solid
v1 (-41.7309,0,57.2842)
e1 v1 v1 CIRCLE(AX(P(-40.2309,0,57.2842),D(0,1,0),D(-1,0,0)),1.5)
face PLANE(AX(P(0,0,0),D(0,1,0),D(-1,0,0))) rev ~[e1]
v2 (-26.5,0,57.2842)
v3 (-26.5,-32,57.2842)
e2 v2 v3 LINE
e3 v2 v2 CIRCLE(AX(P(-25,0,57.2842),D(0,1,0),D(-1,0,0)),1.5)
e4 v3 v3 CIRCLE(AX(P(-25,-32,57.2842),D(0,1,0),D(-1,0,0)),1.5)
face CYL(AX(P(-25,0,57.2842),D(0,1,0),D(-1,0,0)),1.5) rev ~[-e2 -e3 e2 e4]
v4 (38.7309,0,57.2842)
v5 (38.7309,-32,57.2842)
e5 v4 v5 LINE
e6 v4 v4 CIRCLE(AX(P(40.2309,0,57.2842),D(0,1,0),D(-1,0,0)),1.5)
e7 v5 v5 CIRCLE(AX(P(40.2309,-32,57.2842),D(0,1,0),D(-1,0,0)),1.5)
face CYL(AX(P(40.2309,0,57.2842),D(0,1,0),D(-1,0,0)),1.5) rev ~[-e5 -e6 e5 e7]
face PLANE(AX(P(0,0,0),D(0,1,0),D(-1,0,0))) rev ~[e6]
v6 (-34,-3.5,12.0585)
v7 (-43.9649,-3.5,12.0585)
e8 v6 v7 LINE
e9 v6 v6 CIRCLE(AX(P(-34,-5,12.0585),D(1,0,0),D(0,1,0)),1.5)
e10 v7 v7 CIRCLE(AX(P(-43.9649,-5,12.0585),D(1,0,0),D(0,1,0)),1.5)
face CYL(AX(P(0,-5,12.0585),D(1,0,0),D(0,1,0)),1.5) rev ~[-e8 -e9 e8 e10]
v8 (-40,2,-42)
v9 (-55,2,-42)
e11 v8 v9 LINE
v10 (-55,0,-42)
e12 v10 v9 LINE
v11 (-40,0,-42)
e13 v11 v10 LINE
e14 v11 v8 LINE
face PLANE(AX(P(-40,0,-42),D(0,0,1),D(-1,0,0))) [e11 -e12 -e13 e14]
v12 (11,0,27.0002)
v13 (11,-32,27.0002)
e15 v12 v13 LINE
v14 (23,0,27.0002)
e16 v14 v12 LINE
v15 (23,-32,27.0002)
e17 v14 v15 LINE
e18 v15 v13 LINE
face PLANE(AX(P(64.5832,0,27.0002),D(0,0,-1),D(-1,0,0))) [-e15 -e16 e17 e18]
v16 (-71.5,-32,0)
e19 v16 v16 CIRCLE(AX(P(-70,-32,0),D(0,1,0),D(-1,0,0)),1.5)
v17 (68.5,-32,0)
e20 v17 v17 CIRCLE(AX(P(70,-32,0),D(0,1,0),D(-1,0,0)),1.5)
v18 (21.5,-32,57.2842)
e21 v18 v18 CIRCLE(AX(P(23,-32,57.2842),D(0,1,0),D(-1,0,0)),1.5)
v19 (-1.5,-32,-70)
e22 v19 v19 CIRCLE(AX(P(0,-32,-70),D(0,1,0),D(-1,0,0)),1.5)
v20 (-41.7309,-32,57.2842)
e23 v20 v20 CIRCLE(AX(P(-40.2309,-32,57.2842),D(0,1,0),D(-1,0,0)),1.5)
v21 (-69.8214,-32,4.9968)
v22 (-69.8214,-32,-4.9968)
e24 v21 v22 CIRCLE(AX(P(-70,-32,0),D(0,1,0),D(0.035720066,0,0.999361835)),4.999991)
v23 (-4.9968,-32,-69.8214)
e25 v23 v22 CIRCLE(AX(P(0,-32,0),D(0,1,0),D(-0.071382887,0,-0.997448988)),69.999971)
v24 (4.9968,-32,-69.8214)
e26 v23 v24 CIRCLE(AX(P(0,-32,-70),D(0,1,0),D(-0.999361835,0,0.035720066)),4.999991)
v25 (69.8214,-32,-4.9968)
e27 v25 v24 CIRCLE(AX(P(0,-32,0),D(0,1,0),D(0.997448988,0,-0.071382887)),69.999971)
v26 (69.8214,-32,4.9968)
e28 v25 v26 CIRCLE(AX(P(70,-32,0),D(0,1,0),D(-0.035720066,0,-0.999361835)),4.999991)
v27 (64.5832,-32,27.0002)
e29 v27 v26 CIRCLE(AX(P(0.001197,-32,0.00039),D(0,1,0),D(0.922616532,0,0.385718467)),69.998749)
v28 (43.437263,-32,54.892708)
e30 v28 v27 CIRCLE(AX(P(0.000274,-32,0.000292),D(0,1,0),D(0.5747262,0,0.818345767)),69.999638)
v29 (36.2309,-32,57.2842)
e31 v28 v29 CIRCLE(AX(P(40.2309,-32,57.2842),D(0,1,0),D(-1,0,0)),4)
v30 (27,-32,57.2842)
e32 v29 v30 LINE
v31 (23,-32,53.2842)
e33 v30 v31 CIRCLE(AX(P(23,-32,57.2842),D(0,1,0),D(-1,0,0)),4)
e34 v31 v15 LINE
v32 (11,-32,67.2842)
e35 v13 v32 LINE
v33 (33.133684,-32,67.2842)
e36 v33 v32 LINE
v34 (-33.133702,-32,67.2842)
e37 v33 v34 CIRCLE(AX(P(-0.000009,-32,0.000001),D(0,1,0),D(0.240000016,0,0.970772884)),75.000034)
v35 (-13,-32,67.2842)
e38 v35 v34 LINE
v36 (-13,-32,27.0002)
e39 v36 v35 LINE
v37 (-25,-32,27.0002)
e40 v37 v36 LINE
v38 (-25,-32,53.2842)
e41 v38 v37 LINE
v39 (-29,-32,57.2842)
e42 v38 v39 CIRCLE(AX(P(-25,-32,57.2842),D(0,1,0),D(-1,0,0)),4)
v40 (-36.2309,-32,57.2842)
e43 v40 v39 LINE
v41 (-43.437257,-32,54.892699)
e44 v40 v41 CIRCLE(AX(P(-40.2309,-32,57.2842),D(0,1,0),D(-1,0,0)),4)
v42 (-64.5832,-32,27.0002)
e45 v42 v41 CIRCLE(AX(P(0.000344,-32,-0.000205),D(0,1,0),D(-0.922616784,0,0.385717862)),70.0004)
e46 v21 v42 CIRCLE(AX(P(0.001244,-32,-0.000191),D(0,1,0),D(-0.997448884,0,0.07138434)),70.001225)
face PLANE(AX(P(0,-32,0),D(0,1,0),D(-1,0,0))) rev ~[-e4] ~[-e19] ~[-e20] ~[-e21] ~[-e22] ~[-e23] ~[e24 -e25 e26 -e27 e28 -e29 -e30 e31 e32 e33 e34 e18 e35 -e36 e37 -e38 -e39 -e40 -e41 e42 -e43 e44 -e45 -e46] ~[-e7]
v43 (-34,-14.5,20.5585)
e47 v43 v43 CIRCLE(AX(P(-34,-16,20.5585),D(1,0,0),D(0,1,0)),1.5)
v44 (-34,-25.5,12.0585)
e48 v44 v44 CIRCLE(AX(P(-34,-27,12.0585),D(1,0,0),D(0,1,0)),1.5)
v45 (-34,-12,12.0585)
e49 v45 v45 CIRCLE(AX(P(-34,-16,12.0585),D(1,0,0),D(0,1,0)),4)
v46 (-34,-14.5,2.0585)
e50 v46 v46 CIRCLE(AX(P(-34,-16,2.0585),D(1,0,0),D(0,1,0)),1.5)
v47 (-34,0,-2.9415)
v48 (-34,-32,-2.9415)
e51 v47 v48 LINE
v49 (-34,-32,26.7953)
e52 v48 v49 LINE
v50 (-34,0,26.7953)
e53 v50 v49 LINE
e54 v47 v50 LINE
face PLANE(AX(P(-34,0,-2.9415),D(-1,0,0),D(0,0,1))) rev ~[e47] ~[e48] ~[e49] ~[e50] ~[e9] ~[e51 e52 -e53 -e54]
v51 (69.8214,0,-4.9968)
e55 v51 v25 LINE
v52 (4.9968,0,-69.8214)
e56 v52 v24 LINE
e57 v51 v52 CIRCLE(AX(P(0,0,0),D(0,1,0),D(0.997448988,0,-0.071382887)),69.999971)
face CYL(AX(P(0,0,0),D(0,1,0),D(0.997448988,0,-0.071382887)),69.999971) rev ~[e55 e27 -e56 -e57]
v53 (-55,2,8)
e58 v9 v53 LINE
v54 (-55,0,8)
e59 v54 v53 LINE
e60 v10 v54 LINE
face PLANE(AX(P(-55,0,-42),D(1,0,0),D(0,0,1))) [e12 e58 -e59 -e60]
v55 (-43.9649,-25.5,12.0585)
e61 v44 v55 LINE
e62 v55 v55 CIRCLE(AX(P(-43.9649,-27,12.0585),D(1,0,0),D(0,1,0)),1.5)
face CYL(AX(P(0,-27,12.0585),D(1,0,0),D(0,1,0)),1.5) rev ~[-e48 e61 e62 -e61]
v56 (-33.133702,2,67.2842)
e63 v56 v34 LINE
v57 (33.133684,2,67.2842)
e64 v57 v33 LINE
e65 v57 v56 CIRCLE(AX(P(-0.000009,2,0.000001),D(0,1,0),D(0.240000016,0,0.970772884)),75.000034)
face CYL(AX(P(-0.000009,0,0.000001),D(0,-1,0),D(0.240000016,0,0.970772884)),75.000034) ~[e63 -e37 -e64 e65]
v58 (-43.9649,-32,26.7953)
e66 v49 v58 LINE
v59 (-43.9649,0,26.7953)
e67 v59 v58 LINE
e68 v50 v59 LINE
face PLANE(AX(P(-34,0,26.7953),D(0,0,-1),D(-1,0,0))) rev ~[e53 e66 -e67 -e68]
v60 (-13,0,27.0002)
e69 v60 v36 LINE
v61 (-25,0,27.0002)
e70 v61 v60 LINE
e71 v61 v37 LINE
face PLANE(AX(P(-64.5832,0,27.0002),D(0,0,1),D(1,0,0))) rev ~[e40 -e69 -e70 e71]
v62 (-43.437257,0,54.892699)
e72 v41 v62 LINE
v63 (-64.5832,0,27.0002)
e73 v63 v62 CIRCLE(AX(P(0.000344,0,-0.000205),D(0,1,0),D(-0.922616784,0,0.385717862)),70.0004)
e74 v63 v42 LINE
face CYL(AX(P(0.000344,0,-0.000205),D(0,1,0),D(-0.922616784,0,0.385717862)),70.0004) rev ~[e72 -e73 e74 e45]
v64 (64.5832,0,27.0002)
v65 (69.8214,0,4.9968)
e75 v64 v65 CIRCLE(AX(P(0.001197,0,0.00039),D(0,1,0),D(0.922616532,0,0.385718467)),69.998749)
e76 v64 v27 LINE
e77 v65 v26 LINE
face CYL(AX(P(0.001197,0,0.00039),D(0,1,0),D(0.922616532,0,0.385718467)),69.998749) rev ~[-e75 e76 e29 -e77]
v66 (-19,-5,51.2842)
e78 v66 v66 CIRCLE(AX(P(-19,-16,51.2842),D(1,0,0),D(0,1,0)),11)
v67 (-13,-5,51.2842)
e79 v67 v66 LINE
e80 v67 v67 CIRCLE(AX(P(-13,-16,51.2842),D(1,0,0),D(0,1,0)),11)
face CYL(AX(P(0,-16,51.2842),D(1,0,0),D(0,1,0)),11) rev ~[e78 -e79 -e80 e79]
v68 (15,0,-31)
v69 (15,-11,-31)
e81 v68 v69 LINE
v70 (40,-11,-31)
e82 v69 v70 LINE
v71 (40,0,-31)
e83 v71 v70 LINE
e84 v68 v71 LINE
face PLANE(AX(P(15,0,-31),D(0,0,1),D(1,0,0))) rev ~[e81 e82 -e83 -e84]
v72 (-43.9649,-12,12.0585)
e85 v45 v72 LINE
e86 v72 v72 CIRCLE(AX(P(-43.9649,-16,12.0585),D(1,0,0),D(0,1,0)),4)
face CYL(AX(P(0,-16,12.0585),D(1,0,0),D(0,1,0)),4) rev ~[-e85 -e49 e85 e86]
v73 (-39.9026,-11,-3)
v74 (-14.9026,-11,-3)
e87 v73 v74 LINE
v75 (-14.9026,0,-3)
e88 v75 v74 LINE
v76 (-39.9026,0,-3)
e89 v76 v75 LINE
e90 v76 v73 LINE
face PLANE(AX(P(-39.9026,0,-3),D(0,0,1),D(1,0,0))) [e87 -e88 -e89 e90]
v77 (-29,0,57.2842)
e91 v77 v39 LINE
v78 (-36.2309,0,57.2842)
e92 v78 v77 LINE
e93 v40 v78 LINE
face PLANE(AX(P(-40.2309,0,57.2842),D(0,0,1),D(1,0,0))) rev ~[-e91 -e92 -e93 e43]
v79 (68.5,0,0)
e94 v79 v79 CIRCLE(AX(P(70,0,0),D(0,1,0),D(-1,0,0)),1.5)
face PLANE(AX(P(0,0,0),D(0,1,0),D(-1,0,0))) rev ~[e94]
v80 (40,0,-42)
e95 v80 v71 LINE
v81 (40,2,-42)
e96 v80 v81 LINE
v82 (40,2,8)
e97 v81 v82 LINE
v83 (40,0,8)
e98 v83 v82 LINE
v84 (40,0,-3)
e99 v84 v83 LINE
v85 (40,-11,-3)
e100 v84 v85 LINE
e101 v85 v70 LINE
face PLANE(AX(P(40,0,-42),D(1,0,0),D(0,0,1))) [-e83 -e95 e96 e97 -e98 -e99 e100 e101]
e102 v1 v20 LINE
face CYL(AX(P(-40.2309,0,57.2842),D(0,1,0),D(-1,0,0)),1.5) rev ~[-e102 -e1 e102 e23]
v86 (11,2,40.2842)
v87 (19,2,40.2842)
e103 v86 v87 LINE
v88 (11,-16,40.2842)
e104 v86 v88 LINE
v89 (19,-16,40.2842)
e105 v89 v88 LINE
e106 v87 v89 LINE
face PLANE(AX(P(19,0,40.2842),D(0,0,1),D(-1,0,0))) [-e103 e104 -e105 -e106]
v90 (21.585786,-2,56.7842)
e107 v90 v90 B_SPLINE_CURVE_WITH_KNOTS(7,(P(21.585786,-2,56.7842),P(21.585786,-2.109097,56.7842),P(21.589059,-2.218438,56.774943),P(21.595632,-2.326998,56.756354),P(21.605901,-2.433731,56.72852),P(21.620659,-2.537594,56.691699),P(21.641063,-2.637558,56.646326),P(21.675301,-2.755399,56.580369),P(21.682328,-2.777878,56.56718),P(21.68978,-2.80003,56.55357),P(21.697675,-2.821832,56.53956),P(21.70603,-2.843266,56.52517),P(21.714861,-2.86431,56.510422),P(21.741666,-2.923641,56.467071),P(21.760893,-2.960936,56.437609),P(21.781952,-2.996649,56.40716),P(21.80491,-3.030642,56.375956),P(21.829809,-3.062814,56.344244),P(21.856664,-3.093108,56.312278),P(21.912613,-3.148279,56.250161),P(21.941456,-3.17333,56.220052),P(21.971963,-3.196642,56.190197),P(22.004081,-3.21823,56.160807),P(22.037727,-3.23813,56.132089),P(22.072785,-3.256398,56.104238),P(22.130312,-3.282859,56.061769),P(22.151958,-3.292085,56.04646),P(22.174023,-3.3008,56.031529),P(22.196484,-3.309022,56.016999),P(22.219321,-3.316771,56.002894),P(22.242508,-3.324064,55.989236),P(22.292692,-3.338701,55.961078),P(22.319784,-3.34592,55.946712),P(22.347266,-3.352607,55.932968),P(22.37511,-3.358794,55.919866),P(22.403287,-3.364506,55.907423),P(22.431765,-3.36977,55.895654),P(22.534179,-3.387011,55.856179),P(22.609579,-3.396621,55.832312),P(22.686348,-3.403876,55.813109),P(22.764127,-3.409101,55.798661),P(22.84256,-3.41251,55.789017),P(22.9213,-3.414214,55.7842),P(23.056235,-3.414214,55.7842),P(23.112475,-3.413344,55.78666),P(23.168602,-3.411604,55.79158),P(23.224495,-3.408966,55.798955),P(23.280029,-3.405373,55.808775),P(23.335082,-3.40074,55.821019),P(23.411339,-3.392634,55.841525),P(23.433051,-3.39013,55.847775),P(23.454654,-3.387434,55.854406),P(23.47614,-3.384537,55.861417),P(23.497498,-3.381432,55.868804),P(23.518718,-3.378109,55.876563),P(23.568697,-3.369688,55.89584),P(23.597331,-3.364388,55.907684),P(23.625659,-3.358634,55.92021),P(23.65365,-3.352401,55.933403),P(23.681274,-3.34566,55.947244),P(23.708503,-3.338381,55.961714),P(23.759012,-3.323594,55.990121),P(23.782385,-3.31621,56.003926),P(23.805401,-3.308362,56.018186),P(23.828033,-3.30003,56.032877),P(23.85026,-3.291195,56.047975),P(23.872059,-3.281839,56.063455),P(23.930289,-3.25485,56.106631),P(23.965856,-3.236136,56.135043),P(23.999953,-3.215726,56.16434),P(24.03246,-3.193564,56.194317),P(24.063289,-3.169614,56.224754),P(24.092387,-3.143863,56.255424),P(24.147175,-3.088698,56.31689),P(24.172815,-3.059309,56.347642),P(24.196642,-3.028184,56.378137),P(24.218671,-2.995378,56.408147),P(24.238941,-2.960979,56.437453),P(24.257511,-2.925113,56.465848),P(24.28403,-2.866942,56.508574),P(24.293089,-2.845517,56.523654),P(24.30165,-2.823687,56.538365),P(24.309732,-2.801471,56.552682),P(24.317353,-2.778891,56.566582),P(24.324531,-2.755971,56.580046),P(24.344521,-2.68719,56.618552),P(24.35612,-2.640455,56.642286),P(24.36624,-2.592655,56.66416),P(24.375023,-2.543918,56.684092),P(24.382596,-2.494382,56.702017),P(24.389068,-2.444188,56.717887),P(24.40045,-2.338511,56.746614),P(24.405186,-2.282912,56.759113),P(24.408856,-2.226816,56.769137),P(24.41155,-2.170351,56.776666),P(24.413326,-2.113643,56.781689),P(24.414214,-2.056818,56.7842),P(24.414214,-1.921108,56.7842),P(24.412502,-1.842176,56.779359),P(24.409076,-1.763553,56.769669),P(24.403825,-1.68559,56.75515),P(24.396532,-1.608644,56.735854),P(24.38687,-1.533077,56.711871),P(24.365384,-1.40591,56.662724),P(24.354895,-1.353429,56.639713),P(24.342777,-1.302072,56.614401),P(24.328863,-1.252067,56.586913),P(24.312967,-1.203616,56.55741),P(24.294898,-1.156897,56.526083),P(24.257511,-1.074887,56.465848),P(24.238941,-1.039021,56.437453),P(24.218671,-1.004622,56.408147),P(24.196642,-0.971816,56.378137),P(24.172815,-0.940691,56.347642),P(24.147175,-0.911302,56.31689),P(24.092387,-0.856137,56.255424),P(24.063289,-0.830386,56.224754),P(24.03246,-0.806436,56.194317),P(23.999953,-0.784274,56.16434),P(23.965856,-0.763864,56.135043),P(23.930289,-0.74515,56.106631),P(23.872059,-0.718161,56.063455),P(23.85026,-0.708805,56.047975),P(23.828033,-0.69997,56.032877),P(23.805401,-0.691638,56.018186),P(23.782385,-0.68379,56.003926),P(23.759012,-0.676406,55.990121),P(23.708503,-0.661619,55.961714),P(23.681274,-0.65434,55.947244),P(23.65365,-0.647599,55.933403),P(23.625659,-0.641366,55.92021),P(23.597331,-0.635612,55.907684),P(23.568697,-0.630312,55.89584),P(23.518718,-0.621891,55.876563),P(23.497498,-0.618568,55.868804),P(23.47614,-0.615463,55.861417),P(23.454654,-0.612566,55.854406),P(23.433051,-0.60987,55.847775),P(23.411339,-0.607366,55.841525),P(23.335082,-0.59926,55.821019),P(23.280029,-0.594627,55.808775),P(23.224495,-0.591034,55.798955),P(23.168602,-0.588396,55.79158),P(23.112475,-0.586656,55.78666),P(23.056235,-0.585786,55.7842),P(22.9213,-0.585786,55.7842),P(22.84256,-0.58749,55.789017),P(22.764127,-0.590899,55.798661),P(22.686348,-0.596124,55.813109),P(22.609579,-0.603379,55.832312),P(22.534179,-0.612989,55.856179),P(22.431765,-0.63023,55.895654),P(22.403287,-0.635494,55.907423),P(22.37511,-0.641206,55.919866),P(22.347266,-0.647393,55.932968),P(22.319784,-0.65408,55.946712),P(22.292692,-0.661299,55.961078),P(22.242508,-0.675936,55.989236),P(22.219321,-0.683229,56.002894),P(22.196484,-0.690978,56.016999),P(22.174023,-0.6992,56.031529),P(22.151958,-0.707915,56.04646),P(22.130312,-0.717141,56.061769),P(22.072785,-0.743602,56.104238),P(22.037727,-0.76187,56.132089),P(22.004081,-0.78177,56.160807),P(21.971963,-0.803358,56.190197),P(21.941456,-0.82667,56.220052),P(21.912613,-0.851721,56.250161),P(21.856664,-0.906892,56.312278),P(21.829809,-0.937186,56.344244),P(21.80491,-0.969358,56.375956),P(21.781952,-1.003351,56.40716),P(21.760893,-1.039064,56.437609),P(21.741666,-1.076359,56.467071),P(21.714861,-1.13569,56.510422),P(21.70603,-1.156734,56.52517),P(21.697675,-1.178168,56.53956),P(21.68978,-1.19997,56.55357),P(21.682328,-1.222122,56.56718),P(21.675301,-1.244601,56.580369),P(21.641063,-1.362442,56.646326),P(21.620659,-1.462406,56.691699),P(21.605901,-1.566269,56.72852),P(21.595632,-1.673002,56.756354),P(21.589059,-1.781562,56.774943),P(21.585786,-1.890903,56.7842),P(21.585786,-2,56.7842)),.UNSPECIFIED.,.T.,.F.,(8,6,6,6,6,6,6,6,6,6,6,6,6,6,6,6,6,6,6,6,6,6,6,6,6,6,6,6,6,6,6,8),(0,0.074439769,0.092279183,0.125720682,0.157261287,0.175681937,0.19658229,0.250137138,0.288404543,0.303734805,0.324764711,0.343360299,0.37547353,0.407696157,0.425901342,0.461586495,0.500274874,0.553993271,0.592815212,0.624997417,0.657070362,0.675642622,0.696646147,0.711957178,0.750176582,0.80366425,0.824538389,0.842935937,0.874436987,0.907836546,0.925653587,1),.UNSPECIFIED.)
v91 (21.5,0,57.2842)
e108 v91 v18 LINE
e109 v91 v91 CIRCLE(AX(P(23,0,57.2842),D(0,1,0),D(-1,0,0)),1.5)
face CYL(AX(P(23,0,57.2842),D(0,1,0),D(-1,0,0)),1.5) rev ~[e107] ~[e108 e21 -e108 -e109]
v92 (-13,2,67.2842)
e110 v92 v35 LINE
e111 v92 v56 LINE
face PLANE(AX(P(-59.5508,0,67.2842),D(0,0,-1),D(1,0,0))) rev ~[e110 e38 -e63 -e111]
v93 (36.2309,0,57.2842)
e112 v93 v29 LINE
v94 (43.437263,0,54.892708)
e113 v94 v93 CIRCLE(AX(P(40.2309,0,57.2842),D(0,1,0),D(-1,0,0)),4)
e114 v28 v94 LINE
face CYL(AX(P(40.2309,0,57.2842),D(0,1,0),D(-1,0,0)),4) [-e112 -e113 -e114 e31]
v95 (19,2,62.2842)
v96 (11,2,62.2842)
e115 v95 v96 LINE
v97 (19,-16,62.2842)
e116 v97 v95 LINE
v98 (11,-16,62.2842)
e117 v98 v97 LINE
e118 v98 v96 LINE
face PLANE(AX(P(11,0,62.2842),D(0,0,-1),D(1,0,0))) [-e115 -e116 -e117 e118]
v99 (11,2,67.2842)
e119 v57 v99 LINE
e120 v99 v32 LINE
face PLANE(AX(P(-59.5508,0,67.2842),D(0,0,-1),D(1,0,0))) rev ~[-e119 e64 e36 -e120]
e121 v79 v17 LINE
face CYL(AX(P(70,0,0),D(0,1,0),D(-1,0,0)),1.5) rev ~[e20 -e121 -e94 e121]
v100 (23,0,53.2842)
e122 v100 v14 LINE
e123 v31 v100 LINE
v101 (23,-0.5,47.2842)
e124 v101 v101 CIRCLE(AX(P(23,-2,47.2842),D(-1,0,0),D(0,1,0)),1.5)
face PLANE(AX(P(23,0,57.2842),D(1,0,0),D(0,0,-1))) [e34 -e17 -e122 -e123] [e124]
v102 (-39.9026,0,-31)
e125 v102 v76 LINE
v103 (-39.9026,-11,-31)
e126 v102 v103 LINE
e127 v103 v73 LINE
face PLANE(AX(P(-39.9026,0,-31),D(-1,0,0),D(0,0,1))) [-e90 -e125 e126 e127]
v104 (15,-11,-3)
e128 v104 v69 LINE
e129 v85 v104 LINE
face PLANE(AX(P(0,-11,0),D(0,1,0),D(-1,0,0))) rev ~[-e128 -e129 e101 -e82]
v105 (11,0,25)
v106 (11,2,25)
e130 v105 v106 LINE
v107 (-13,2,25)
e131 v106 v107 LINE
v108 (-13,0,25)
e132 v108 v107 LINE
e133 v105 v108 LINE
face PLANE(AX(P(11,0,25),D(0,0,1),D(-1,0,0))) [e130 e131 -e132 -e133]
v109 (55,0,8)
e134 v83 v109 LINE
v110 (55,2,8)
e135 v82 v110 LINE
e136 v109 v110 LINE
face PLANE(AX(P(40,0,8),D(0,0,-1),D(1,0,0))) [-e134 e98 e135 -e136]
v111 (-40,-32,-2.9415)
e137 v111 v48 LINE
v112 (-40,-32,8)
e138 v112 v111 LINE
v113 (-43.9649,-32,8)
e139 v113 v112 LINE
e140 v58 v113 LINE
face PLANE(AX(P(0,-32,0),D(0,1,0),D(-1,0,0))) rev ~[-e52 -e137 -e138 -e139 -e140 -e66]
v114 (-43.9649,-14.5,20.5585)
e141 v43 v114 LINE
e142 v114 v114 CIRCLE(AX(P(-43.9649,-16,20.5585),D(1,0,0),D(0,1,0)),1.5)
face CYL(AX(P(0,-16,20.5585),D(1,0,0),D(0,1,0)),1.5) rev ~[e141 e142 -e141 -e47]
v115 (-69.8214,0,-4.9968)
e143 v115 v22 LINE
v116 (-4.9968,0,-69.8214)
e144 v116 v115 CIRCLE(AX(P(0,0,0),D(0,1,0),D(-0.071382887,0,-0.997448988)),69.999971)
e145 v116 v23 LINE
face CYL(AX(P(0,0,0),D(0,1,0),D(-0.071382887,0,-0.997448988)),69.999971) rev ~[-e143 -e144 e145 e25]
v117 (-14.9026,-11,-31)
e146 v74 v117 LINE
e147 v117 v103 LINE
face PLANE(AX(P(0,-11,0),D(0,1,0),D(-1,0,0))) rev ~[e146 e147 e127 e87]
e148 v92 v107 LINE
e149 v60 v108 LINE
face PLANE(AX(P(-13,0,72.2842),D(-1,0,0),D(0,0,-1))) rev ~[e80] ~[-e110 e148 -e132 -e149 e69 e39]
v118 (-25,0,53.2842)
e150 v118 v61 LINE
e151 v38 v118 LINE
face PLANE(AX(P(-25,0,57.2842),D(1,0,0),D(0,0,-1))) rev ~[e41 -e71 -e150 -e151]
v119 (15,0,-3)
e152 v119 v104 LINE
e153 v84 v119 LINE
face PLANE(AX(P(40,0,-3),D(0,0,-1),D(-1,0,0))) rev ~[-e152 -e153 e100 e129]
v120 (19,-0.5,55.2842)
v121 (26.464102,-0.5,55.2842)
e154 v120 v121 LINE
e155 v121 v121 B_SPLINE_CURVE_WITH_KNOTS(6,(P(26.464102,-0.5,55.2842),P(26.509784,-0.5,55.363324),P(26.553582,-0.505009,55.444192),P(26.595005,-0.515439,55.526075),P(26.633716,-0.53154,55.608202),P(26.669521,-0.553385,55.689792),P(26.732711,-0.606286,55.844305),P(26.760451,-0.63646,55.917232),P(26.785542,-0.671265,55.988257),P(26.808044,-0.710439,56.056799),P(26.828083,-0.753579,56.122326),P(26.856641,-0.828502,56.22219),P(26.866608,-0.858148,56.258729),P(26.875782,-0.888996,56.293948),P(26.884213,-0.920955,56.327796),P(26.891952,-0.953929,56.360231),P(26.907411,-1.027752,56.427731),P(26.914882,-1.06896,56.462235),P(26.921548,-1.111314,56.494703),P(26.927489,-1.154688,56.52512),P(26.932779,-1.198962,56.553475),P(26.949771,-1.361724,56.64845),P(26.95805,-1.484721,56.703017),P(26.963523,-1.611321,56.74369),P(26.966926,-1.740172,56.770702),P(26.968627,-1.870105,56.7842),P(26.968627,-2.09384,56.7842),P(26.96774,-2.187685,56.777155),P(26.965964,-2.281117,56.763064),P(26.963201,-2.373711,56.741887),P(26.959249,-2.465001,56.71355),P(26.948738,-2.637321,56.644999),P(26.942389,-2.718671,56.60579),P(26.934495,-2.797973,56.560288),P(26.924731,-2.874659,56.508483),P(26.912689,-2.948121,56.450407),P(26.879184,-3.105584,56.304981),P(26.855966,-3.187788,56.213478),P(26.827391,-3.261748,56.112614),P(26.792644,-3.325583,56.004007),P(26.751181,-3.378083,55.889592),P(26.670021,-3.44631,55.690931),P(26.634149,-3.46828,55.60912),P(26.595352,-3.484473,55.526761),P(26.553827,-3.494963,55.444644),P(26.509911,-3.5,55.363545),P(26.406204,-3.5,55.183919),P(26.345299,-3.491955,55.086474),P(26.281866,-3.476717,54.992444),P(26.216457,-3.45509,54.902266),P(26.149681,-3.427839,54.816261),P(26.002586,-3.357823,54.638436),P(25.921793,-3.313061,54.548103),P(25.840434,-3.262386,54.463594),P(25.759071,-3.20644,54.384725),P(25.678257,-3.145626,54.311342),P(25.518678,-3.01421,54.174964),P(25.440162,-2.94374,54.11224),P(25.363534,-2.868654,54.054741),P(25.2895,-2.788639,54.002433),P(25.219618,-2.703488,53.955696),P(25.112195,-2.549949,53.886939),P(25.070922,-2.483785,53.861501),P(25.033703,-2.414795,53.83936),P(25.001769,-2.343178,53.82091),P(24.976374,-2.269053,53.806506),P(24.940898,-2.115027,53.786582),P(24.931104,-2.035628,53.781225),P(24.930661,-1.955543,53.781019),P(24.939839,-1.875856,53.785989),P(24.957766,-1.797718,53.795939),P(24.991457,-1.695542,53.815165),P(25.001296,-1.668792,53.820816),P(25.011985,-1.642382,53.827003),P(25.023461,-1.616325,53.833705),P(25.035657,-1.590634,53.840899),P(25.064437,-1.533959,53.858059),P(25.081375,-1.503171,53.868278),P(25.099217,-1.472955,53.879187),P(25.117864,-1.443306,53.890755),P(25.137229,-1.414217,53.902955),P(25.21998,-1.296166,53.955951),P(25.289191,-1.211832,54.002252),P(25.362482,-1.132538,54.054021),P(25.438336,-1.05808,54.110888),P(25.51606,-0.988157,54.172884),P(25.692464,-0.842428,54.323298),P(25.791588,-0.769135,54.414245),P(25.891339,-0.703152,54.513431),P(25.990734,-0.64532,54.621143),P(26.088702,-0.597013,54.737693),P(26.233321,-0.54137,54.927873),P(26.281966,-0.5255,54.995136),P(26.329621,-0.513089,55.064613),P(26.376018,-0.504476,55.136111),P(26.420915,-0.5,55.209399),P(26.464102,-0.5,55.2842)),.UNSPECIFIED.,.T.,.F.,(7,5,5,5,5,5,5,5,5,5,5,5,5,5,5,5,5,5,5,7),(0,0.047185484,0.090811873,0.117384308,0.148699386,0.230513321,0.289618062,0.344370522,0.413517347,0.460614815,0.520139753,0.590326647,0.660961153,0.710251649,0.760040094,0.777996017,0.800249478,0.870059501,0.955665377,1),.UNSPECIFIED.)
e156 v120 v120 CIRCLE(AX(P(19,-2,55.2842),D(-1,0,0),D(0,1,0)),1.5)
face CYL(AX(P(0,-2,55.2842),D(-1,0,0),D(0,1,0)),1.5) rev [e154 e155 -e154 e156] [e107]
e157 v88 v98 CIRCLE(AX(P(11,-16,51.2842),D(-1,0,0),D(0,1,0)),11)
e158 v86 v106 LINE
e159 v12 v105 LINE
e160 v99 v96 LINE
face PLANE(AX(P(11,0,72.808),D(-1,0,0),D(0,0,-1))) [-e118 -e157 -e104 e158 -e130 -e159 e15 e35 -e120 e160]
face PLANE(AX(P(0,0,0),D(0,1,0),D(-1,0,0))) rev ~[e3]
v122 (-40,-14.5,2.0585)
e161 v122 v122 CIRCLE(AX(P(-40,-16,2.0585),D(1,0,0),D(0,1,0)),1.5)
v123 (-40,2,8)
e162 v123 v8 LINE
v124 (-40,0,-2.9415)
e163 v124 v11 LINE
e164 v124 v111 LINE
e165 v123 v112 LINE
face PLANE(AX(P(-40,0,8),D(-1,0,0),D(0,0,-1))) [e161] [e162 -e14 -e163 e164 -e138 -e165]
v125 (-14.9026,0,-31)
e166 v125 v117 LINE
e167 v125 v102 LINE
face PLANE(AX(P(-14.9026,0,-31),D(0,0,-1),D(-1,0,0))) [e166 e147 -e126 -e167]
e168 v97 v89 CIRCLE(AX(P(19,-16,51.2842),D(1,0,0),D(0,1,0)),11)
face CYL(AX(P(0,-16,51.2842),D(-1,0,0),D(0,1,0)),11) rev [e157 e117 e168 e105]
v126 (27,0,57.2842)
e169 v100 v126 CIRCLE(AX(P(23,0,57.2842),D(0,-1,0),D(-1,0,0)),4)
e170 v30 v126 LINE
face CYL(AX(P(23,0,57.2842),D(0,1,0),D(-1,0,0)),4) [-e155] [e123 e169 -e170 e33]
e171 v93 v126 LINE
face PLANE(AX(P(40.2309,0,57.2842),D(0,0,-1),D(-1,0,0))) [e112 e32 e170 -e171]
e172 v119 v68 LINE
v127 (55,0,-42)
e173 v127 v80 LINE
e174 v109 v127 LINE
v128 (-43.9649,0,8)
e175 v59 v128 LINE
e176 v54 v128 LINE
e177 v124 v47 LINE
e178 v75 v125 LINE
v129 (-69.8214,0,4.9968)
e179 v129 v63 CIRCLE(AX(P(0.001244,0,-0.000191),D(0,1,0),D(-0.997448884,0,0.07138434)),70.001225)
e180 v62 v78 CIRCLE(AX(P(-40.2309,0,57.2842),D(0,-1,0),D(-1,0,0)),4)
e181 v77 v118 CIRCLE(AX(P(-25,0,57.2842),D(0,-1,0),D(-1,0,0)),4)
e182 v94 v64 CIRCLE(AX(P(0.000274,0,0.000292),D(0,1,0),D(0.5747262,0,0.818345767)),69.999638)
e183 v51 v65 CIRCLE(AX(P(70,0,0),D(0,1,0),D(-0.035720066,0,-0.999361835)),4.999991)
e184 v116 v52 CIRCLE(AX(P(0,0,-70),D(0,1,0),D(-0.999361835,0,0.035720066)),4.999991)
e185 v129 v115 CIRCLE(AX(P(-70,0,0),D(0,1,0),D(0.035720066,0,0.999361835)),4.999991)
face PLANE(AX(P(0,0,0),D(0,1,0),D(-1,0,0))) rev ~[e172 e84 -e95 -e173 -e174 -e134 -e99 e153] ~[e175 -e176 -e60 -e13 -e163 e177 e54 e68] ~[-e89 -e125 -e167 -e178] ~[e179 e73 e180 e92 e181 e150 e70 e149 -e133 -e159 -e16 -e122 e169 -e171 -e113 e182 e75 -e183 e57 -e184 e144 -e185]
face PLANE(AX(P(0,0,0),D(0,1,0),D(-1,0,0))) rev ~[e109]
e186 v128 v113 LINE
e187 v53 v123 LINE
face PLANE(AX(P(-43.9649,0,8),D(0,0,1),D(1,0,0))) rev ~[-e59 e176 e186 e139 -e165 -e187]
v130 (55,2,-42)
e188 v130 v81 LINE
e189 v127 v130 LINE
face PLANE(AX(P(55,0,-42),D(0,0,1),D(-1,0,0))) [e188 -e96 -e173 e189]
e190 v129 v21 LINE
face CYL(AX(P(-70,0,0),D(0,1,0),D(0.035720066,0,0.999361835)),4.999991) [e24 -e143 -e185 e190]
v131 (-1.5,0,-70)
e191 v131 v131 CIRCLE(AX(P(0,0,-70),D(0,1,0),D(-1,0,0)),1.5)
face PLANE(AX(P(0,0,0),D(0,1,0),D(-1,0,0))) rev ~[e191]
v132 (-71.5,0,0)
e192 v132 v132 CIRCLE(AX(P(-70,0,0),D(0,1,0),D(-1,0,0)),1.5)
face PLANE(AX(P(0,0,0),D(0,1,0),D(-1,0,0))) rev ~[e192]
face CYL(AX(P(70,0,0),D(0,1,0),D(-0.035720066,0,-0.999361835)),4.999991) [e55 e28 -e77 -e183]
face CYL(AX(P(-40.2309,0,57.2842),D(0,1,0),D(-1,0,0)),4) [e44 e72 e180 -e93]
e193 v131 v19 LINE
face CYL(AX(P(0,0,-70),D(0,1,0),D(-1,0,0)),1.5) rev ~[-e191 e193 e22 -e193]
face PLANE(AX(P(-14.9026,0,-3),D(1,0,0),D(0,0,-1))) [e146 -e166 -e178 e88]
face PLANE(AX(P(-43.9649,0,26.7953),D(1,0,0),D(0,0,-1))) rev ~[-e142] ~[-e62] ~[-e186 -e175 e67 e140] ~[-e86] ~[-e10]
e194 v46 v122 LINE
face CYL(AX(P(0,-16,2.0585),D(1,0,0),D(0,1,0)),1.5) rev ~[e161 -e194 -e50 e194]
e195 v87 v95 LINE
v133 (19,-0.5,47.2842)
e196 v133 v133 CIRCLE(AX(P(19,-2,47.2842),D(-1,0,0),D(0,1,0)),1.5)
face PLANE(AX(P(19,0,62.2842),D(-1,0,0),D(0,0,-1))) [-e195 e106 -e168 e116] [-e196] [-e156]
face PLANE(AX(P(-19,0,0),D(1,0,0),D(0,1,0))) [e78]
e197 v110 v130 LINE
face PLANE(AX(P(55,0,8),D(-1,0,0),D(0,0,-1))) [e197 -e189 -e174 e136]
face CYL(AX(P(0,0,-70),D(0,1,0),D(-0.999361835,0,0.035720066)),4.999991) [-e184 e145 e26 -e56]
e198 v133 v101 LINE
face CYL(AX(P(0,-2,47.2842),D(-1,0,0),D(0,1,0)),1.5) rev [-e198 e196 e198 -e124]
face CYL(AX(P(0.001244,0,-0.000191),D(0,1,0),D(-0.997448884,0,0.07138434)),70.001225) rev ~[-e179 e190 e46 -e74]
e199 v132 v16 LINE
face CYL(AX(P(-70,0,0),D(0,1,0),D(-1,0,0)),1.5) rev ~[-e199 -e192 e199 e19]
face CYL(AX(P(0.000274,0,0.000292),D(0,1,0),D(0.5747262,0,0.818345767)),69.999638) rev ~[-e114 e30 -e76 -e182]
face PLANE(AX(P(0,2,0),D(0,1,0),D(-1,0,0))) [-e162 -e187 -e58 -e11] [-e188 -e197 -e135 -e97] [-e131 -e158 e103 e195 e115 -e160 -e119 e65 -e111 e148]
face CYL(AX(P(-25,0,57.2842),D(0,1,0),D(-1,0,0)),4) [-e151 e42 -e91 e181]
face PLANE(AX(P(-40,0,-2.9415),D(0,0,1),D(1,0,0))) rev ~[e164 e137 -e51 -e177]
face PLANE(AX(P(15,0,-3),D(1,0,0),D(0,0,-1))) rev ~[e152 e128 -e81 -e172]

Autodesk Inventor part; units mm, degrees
ref_plane "YZ Plane" through (0, 0, 0) normal (1, 0, 0) x (0, 1, 0)
ref_plane "XZ Plane" through (0, 0, 0) normal (0, 1, 0) x (-1, 0, 0)
ref_plane "XY Plane" through (0, 0, 0) normal (0, 0, 1) x (1, 0, 0)
sketch "Boceto1" plane through (0, 0, 0) normal (0, 1, 0) x (-1, 0, 0)
  arc A0 (-18, 72.808) -> (20, 72.2842) centre (0, 0) ccw
  line L0 (-18, 72.808) -> (-18, 72.2842)
  line L1 (-11, 25) -> (13, 25)
  line L2 (55, 8) -> (40, 8)
  line L3 (40, 8) -> (40, -42)
  line L4 (40, -42) -> (55, -42)
  line L5 (55, -42) -> (55, 8)
  line L6 (-40, 8) -> (-55, 8)
  line L7 (-55, 8) -> (-55, -42)
  line L8 (-55, -42) -> (-40, -42)
  line L9 (-40, -42) -> (-40, 8)
  line L10 (20, 72.2842) -> (13, 72.2842)
  line L11 (13, 72.2842) -> (13, 25)
  line L12 (-18, 72.808) -> (-11, 72.808)
  line L13 (-11, 72.808) -> (-11, 25)
  line L14 (-18, 72.2842) -> (-18, 72.808)
  dimension "d0" = 150
  dimension "d2" = 18
  dimension "d3" = 25
  dimension "d4" = 15
  dimension "d5" = 50
  dimension "d6" = 15
  dimension "d7" = 50
  dimension "d8" = 40
  dimension "d9" = 40
  dimension "d63" = 8
  dimension "d64" = 8
extrude "Extrusión1" add sketch "Boceto1" along normal blind 2
sketch "Boceto2" plane through (0, 0, 0) normal (0, 1, 0) x (-1, 0, 0)
  arc A0 (-18, 72.808) -> (20, 72.2842) centre (0, 0) ccw
  line L0 (-18, 72.808) -> (-18, 72.2842)
  line L1 (20, 72.2842) -> (13, 72.2842)
  line L2 (-18, 72.808) -> (-11, 72.808)
  line L3 (-11, 72.808) -> (-11, 72.2842)
  line L4 (-18, 72.2842) -> (-18, 72.808)
  line L5 (20, 72.2842) -> (13, 72.2842) projected
  line L6 (13, 72.2842) -> (20, 72.2842)
  line L7 (64.5832, 27.0002) -> (13, 27.0002)
  line L8 (13, 27.0002) -> (13, 72.2842)
  line L9 (-11, 72.2842) -> (-20, 72.2842)
  line L10 (-64.5832, 27.0002) -> (-11, 27.0002)
  line L11 (-11, 27.0002) -> (-11, 72.2842)
  arc A1 (69.8214, 4.9968) -> (69.8214, -4.9968) centre (70, 0) ccw
  arc A2 (-69.8214, -4.9968) -> (-69.8214, 4.9968) centre (-70, 0) ccw
  arc A3 (4.9968, -69.8214) -> (-4.9968, -69.8214) centre (0, -70) ccw
  arc A4 (4.9968, -69.8214) -> (69.8214, -4.9968) centre (0, 0) ccw
  arc A5 (69.8214, 4.9968) -> (64.5832, 27.0002) centre (0, 0) ccw
  arc A6 (-64.5832, 27.0002) -> (-69.8214, 4.9968) centre (0, 0) ccw
  arc A7 (-69.8214, -4.9968) -> (-4.9968, -69.8214) centre (0, 0) ccw
  dimension "d14" = 150
  dimension "d45" = 10
  dimension "d46" = 10
  dimension "d47" = 10
extrude "Extrusión2" add sketch "Boceto2" against normal blind 32 contours L9 L11 L10 A6 A2 A7 A3 A4 A1 A5 L7 L8 L1 A0
sketch "Boceto3" plane through (0, 0, 0) normal (0, 1, 0) x (-1, 0, 0)
  line L0 (-40, 8) -> (-40, -42) projected
  line L1 (-40, -3) -> (-15, -3)
  line L2 (-15, -3) -> (-15, -31)
  line L3 (-15, -31) -> (-40, -31)
  line L4 (-40, -31) -> (-40, -3)
  line L5 (39.9026, -3) -> (14.9026, -3)
  line L6 (14.9026, -3) -> (14.9026, -31)
  line L7 (14.9026, -31) -> (39.9026, -31)
  line L8 (39.9026, -31) -> (39.9026, -3)
  line L9 (-40, 8) -> (-55, 8) projected
  line L10 (55, 8) -> (40, 8) projected
  point P0 (0, 0)
  dimension "d27" = 25
  dimension "d28" = 28
  dimension "d30" = 25
  dimension "d31" = 28
  dimension "d65" = 11
  dimension "d66" = 11
extrude "Extrusión3" add sketch "Boceto3" against normal blind 11
sketch "Boceto4" plane through (0, 0, 0) normal (0, 1, 0) x (-1, 0, 0)
  line L0 (34, 26.7953) -> (43.9649, 26.7953)
  line L1 (43.9649, 26.7953) -> (43.9649, 8)
  line L2 (40, -2.9415) -> (34, -2.9415)
  line L3 (34, -2.9415) -> (34, 26.7953)
  line L4 (13, 27.0002) -> (13, 72.2842) projected
  line L5 (55, 8) -> (40, 8) projected
  line L6 (40, 8) -> (40, -42) projected
  line L7 (43.9649, 8) -> (40, 8)
  line L8 (40, 8) -> (40, -2.9415)
  line L9 (43.9649, 5.0585) -> (44, 5.0585)
  point P0 (0, 0)
  dimension "d37" = 21
extrude "Extrusión4" add sketch "Boceto4" against normal blind 32
sketch "Boceto5" plane through (0, 0, 0) normal (1, 0, 0) x (0, 1, 0)
  circle A0 centre (-16, 51.2842) radius 11
  line L0 (0, 72.2842) -> (-32, 72.2842) projected
  line L1 (2, -75) -> (2, 72.808) projected
  point P0 (0, 0)
  point P1 (2, 72.2842)
  dimension "d40" = 22
  dimension "d41" = 21
  dimension "d42" = 18
extrude "Extrusión5" cut sketch "Boceto5" along normal mid plane 38
sketch "Boceto6" plane through (0, 0, 0) normal (0, 1, 0) x (-1, 0, 0)
  arc A0 (69.8214, 4.9968) -> (69.8214, -4.9968) centre (70, 0) ccw projected
  circle A1 centre (70, 0) radius 1.5
  circle A2 centre (0, -70) radius 1.5
  circle A3 centre (-70, 0) radius 1.5
  line L0 (64.5832, 27.0002) -> (13, 27.0002) projected
  line L1 (-11, 27.0002) -> (-64.5832, 27.0002) projected
  point P0 (0, 0)
  dimension "d48" = 3
  dimension "d49" = 3
  dimension "d50" = 3
extrude "Extrusión6" cut sketch "Boceto6" against normal blind 33
sketch "Boceto8" plane through (0, 0, 0) normal (0, 1, 0) x (-1, 0, 0)
  line L0 (59.5508, 67.2842) -> (-59.748, 67.2842)
  line L1 (-59.748, 67.2842) -> (-59.748, 82.2842)
  line L2 (-59.748, 82.2842) -> (59.5508, 82.2842)
  line L3 (59.5508, 82.2842) -> (59.5508, 67.2842)
  line L4 (13, 72.2842) -> (20, 72.2842) projected
  point P0 (0, 0)
  dimension "d67" = 15
  dimension "d71" = 5
extrude "Extrusión8" cut sketch "Boceto8" along normal mid plane 70
sketch "Boceto9" plane through (0, 0, 0) normal (0, 1, 0) x (-1, 0, 0)
  line L0 (-64.5832, 27.0002) -> (-11, 27.0002) projected
  line L1 (-23, 27.0002) -> (-64.5832, 27.0002)
  line L2 (-40.2309, 57.2842) -> (-23, 57.2842)
  line L3 (-23, 57.2842) -> (-23, 27.0002)
  line L4 (-11, 67.2842) -> (-11, 27.0002) projected
  line L5 (-33.1337, 67.2842) -> (-11, 67.2842) projected
  line L6 (25, 27.0002) -> (64.5832, 27.0002)
  line L7 (40.2309, 57.2842) -> (25, 57.2842)
  line L8 (25, 57.2842) -> (25, 27.0002)
  line L9 (13, 27.0002) -> (13, 67.2842) projected
  line L10 (13, 67.2842) -> (33.1337, 67.2842) projected
  arc A0 (-40.2309, 57.2842) -> (-64.5832, 27.0002) centre (0, 0) ccw
  arc A1 (64.5832, 27.0002) -> (40.2309, 57.2842) centre (0, 0) ccw
  dimension "d73" = 12
  dimension "d76" = 10
  dimension "d77" = 12
  dimension "d78" = 10
extrude "Extrusión9" cut sketch "Boceto9" against normal blind 32
sketch "Boceto10" plane through (0, 0, 0) normal (0, 1, 0) x (-1, 0, 0)
  line L0 (-23, 57.2842) -> (-40.2309, 57.2842) projected
  circle A0 centre (-40.2309, 57.2842) radius 4
  arc A1 (69.8214, 4.9968) -> (40.2309, 57.2842) centre (0, 0) ccw projected
  circle A2 centre (40.2309, 57.2842) radius 4
  line L1 (25, 57.2842) -> (25, 27.0002) projected
  circle A3 centre (25, 57.2842) radius 4
  line L2 (-23, 27.0002) -> (-23, 57.2842) projected
  circle A4 centre (-23, 57.2842) radius 4
  line L3 (-11, 67.2842) -> (-11, 27.0002) projected
  dimension "d81" = 8
  dimension "d82" = 8
  dimension "d83" = 8
  dimension "d84" = 8
extrude "Extrusión10" add sketch "Boceto10" against normal blind 32
sketch "Boceto11" plane through (0, 0, 0) normal (0, 1, 0) x (-1, 0, 0)
  line L0 (-27, 57.2842) -> (-36.2309, 57.2842) projected
  arc A0 (-43.4373, 54.8927) -> (-36.2309, 57.2842) centre (-40.2309, 57.2842) ccw projected
  arc A1 (-27, 57.2842) -> (-23, 53.2842) centre (-23, 57.2842) ccw projected
  circle A2 centre (-23, 57.2842) radius 1.5
  arc A3 (25, 53.2842) -> (29, 57.2842) centre (25, 57.2842) ccw projected
  circle A4 centre (25, 57.2842) radius 1.5
  arc A5 (36.2309, 57.2842) -> (43.4373, 54.8927) centre (40.2309, 57.2842) ccw projected
  circle A6 centre (40.2309, 57.2842) radius 1.5
  circle A7 centre (-40.2309, 57.2842) radius 1.5
  point P0 (0, 0)
  dimension "d89" = 3
  dimension "d90" = 3
  dimension "d91" = 3
  dimension "d92" = 3
extrude "Extrusión11" cut sketch "Boceto11" against normal blind 32
sketch "Boceto12" plane through (0, 0, 0) normal (1, 0, 0) x (0, 1, 0)
  circle A0 centre (-16, 12.0585) radius 4
  line L0 (0, 54.8927) -> (0, 4.9968) projected
  line L1 (0, -2.9415) -> (-32, -2.9415) projected
  circle A1 centre (-5, 12.0585) radius 1.5
  line L2 (-32, 67.2842) -> (-32, -75) projected
  circle A2 centre (-27, 12.0585) radius 1.5
  circle A3 centre (-16, 2.0585) radius 1.5
  circle A4 centre (-16, 20.5585) radius 1.5
  point P0 (0, 0)
  dimension "d95" = 8
  dimension "d96" = 16
  dimension "d97" = 15
  dimension "d98" = 3
  dimension "d99" = 5
  dimension "d102" = 3
  dimension "d103" = 5
  dimension "d104" = 3
  dimension "d105" = 5
  dimension "d106" = 3
  dimension "d107" = 16
  dimension "d108" = 16
  dimension "d109" = 15
  dimension "d110" = 23.5
extrude "Extrusión12" cut sketch "Boceto12" against normal blind 50
sketch "Boceto13" plane through (0, 0, 0) normal (0, 1, 0) x (-1, 0, 0)
  line L0 (-11, 67.2842) -> (-11, 27.0002) projected
  line L1 (-19, 62.2842) -> (-19, 40.2842) projected
  line L2 (-11, 62.2842) -> (-19, 62.2842)
  line L3 (-19, 62.2842) -> (-19, 40.2842)
  line L4 (-19, 40.2842) -> (-11, 40.2842)
  line L5 (-11, 40.2842) -> (-11, 62.2842)
  point P0 (0, 0)
extrude "Extrusión13" cut sketch "Boceto13" along normal mid plane 32
sketch "Boceto14" plane through (0, 0, 0) normal (1, 0, 0) x (0, 1, 0)
  circle A0 centre (-2, 55.2842) radius 1.5
  line L0 (2, -75) -> (2, 67.2842) projected
  line L1 (2, 67.2842) -> (-32, 67.2842) projected
  circle A1 centre (-2, 47.2842) radius 1.5
  point P0 (0, 0)
  dimension "d118" = 3
  dimension "d119" = 4
  dimension "d120" = 12
  dimension "d121" = 3
  dimension "d122" = 4
  dimension "d123" = 20
extrude "Extrusión14" cut sketch "Boceto14" along normal blind 29
properties part number "Cuerpo" material "Nilón 6/6"
